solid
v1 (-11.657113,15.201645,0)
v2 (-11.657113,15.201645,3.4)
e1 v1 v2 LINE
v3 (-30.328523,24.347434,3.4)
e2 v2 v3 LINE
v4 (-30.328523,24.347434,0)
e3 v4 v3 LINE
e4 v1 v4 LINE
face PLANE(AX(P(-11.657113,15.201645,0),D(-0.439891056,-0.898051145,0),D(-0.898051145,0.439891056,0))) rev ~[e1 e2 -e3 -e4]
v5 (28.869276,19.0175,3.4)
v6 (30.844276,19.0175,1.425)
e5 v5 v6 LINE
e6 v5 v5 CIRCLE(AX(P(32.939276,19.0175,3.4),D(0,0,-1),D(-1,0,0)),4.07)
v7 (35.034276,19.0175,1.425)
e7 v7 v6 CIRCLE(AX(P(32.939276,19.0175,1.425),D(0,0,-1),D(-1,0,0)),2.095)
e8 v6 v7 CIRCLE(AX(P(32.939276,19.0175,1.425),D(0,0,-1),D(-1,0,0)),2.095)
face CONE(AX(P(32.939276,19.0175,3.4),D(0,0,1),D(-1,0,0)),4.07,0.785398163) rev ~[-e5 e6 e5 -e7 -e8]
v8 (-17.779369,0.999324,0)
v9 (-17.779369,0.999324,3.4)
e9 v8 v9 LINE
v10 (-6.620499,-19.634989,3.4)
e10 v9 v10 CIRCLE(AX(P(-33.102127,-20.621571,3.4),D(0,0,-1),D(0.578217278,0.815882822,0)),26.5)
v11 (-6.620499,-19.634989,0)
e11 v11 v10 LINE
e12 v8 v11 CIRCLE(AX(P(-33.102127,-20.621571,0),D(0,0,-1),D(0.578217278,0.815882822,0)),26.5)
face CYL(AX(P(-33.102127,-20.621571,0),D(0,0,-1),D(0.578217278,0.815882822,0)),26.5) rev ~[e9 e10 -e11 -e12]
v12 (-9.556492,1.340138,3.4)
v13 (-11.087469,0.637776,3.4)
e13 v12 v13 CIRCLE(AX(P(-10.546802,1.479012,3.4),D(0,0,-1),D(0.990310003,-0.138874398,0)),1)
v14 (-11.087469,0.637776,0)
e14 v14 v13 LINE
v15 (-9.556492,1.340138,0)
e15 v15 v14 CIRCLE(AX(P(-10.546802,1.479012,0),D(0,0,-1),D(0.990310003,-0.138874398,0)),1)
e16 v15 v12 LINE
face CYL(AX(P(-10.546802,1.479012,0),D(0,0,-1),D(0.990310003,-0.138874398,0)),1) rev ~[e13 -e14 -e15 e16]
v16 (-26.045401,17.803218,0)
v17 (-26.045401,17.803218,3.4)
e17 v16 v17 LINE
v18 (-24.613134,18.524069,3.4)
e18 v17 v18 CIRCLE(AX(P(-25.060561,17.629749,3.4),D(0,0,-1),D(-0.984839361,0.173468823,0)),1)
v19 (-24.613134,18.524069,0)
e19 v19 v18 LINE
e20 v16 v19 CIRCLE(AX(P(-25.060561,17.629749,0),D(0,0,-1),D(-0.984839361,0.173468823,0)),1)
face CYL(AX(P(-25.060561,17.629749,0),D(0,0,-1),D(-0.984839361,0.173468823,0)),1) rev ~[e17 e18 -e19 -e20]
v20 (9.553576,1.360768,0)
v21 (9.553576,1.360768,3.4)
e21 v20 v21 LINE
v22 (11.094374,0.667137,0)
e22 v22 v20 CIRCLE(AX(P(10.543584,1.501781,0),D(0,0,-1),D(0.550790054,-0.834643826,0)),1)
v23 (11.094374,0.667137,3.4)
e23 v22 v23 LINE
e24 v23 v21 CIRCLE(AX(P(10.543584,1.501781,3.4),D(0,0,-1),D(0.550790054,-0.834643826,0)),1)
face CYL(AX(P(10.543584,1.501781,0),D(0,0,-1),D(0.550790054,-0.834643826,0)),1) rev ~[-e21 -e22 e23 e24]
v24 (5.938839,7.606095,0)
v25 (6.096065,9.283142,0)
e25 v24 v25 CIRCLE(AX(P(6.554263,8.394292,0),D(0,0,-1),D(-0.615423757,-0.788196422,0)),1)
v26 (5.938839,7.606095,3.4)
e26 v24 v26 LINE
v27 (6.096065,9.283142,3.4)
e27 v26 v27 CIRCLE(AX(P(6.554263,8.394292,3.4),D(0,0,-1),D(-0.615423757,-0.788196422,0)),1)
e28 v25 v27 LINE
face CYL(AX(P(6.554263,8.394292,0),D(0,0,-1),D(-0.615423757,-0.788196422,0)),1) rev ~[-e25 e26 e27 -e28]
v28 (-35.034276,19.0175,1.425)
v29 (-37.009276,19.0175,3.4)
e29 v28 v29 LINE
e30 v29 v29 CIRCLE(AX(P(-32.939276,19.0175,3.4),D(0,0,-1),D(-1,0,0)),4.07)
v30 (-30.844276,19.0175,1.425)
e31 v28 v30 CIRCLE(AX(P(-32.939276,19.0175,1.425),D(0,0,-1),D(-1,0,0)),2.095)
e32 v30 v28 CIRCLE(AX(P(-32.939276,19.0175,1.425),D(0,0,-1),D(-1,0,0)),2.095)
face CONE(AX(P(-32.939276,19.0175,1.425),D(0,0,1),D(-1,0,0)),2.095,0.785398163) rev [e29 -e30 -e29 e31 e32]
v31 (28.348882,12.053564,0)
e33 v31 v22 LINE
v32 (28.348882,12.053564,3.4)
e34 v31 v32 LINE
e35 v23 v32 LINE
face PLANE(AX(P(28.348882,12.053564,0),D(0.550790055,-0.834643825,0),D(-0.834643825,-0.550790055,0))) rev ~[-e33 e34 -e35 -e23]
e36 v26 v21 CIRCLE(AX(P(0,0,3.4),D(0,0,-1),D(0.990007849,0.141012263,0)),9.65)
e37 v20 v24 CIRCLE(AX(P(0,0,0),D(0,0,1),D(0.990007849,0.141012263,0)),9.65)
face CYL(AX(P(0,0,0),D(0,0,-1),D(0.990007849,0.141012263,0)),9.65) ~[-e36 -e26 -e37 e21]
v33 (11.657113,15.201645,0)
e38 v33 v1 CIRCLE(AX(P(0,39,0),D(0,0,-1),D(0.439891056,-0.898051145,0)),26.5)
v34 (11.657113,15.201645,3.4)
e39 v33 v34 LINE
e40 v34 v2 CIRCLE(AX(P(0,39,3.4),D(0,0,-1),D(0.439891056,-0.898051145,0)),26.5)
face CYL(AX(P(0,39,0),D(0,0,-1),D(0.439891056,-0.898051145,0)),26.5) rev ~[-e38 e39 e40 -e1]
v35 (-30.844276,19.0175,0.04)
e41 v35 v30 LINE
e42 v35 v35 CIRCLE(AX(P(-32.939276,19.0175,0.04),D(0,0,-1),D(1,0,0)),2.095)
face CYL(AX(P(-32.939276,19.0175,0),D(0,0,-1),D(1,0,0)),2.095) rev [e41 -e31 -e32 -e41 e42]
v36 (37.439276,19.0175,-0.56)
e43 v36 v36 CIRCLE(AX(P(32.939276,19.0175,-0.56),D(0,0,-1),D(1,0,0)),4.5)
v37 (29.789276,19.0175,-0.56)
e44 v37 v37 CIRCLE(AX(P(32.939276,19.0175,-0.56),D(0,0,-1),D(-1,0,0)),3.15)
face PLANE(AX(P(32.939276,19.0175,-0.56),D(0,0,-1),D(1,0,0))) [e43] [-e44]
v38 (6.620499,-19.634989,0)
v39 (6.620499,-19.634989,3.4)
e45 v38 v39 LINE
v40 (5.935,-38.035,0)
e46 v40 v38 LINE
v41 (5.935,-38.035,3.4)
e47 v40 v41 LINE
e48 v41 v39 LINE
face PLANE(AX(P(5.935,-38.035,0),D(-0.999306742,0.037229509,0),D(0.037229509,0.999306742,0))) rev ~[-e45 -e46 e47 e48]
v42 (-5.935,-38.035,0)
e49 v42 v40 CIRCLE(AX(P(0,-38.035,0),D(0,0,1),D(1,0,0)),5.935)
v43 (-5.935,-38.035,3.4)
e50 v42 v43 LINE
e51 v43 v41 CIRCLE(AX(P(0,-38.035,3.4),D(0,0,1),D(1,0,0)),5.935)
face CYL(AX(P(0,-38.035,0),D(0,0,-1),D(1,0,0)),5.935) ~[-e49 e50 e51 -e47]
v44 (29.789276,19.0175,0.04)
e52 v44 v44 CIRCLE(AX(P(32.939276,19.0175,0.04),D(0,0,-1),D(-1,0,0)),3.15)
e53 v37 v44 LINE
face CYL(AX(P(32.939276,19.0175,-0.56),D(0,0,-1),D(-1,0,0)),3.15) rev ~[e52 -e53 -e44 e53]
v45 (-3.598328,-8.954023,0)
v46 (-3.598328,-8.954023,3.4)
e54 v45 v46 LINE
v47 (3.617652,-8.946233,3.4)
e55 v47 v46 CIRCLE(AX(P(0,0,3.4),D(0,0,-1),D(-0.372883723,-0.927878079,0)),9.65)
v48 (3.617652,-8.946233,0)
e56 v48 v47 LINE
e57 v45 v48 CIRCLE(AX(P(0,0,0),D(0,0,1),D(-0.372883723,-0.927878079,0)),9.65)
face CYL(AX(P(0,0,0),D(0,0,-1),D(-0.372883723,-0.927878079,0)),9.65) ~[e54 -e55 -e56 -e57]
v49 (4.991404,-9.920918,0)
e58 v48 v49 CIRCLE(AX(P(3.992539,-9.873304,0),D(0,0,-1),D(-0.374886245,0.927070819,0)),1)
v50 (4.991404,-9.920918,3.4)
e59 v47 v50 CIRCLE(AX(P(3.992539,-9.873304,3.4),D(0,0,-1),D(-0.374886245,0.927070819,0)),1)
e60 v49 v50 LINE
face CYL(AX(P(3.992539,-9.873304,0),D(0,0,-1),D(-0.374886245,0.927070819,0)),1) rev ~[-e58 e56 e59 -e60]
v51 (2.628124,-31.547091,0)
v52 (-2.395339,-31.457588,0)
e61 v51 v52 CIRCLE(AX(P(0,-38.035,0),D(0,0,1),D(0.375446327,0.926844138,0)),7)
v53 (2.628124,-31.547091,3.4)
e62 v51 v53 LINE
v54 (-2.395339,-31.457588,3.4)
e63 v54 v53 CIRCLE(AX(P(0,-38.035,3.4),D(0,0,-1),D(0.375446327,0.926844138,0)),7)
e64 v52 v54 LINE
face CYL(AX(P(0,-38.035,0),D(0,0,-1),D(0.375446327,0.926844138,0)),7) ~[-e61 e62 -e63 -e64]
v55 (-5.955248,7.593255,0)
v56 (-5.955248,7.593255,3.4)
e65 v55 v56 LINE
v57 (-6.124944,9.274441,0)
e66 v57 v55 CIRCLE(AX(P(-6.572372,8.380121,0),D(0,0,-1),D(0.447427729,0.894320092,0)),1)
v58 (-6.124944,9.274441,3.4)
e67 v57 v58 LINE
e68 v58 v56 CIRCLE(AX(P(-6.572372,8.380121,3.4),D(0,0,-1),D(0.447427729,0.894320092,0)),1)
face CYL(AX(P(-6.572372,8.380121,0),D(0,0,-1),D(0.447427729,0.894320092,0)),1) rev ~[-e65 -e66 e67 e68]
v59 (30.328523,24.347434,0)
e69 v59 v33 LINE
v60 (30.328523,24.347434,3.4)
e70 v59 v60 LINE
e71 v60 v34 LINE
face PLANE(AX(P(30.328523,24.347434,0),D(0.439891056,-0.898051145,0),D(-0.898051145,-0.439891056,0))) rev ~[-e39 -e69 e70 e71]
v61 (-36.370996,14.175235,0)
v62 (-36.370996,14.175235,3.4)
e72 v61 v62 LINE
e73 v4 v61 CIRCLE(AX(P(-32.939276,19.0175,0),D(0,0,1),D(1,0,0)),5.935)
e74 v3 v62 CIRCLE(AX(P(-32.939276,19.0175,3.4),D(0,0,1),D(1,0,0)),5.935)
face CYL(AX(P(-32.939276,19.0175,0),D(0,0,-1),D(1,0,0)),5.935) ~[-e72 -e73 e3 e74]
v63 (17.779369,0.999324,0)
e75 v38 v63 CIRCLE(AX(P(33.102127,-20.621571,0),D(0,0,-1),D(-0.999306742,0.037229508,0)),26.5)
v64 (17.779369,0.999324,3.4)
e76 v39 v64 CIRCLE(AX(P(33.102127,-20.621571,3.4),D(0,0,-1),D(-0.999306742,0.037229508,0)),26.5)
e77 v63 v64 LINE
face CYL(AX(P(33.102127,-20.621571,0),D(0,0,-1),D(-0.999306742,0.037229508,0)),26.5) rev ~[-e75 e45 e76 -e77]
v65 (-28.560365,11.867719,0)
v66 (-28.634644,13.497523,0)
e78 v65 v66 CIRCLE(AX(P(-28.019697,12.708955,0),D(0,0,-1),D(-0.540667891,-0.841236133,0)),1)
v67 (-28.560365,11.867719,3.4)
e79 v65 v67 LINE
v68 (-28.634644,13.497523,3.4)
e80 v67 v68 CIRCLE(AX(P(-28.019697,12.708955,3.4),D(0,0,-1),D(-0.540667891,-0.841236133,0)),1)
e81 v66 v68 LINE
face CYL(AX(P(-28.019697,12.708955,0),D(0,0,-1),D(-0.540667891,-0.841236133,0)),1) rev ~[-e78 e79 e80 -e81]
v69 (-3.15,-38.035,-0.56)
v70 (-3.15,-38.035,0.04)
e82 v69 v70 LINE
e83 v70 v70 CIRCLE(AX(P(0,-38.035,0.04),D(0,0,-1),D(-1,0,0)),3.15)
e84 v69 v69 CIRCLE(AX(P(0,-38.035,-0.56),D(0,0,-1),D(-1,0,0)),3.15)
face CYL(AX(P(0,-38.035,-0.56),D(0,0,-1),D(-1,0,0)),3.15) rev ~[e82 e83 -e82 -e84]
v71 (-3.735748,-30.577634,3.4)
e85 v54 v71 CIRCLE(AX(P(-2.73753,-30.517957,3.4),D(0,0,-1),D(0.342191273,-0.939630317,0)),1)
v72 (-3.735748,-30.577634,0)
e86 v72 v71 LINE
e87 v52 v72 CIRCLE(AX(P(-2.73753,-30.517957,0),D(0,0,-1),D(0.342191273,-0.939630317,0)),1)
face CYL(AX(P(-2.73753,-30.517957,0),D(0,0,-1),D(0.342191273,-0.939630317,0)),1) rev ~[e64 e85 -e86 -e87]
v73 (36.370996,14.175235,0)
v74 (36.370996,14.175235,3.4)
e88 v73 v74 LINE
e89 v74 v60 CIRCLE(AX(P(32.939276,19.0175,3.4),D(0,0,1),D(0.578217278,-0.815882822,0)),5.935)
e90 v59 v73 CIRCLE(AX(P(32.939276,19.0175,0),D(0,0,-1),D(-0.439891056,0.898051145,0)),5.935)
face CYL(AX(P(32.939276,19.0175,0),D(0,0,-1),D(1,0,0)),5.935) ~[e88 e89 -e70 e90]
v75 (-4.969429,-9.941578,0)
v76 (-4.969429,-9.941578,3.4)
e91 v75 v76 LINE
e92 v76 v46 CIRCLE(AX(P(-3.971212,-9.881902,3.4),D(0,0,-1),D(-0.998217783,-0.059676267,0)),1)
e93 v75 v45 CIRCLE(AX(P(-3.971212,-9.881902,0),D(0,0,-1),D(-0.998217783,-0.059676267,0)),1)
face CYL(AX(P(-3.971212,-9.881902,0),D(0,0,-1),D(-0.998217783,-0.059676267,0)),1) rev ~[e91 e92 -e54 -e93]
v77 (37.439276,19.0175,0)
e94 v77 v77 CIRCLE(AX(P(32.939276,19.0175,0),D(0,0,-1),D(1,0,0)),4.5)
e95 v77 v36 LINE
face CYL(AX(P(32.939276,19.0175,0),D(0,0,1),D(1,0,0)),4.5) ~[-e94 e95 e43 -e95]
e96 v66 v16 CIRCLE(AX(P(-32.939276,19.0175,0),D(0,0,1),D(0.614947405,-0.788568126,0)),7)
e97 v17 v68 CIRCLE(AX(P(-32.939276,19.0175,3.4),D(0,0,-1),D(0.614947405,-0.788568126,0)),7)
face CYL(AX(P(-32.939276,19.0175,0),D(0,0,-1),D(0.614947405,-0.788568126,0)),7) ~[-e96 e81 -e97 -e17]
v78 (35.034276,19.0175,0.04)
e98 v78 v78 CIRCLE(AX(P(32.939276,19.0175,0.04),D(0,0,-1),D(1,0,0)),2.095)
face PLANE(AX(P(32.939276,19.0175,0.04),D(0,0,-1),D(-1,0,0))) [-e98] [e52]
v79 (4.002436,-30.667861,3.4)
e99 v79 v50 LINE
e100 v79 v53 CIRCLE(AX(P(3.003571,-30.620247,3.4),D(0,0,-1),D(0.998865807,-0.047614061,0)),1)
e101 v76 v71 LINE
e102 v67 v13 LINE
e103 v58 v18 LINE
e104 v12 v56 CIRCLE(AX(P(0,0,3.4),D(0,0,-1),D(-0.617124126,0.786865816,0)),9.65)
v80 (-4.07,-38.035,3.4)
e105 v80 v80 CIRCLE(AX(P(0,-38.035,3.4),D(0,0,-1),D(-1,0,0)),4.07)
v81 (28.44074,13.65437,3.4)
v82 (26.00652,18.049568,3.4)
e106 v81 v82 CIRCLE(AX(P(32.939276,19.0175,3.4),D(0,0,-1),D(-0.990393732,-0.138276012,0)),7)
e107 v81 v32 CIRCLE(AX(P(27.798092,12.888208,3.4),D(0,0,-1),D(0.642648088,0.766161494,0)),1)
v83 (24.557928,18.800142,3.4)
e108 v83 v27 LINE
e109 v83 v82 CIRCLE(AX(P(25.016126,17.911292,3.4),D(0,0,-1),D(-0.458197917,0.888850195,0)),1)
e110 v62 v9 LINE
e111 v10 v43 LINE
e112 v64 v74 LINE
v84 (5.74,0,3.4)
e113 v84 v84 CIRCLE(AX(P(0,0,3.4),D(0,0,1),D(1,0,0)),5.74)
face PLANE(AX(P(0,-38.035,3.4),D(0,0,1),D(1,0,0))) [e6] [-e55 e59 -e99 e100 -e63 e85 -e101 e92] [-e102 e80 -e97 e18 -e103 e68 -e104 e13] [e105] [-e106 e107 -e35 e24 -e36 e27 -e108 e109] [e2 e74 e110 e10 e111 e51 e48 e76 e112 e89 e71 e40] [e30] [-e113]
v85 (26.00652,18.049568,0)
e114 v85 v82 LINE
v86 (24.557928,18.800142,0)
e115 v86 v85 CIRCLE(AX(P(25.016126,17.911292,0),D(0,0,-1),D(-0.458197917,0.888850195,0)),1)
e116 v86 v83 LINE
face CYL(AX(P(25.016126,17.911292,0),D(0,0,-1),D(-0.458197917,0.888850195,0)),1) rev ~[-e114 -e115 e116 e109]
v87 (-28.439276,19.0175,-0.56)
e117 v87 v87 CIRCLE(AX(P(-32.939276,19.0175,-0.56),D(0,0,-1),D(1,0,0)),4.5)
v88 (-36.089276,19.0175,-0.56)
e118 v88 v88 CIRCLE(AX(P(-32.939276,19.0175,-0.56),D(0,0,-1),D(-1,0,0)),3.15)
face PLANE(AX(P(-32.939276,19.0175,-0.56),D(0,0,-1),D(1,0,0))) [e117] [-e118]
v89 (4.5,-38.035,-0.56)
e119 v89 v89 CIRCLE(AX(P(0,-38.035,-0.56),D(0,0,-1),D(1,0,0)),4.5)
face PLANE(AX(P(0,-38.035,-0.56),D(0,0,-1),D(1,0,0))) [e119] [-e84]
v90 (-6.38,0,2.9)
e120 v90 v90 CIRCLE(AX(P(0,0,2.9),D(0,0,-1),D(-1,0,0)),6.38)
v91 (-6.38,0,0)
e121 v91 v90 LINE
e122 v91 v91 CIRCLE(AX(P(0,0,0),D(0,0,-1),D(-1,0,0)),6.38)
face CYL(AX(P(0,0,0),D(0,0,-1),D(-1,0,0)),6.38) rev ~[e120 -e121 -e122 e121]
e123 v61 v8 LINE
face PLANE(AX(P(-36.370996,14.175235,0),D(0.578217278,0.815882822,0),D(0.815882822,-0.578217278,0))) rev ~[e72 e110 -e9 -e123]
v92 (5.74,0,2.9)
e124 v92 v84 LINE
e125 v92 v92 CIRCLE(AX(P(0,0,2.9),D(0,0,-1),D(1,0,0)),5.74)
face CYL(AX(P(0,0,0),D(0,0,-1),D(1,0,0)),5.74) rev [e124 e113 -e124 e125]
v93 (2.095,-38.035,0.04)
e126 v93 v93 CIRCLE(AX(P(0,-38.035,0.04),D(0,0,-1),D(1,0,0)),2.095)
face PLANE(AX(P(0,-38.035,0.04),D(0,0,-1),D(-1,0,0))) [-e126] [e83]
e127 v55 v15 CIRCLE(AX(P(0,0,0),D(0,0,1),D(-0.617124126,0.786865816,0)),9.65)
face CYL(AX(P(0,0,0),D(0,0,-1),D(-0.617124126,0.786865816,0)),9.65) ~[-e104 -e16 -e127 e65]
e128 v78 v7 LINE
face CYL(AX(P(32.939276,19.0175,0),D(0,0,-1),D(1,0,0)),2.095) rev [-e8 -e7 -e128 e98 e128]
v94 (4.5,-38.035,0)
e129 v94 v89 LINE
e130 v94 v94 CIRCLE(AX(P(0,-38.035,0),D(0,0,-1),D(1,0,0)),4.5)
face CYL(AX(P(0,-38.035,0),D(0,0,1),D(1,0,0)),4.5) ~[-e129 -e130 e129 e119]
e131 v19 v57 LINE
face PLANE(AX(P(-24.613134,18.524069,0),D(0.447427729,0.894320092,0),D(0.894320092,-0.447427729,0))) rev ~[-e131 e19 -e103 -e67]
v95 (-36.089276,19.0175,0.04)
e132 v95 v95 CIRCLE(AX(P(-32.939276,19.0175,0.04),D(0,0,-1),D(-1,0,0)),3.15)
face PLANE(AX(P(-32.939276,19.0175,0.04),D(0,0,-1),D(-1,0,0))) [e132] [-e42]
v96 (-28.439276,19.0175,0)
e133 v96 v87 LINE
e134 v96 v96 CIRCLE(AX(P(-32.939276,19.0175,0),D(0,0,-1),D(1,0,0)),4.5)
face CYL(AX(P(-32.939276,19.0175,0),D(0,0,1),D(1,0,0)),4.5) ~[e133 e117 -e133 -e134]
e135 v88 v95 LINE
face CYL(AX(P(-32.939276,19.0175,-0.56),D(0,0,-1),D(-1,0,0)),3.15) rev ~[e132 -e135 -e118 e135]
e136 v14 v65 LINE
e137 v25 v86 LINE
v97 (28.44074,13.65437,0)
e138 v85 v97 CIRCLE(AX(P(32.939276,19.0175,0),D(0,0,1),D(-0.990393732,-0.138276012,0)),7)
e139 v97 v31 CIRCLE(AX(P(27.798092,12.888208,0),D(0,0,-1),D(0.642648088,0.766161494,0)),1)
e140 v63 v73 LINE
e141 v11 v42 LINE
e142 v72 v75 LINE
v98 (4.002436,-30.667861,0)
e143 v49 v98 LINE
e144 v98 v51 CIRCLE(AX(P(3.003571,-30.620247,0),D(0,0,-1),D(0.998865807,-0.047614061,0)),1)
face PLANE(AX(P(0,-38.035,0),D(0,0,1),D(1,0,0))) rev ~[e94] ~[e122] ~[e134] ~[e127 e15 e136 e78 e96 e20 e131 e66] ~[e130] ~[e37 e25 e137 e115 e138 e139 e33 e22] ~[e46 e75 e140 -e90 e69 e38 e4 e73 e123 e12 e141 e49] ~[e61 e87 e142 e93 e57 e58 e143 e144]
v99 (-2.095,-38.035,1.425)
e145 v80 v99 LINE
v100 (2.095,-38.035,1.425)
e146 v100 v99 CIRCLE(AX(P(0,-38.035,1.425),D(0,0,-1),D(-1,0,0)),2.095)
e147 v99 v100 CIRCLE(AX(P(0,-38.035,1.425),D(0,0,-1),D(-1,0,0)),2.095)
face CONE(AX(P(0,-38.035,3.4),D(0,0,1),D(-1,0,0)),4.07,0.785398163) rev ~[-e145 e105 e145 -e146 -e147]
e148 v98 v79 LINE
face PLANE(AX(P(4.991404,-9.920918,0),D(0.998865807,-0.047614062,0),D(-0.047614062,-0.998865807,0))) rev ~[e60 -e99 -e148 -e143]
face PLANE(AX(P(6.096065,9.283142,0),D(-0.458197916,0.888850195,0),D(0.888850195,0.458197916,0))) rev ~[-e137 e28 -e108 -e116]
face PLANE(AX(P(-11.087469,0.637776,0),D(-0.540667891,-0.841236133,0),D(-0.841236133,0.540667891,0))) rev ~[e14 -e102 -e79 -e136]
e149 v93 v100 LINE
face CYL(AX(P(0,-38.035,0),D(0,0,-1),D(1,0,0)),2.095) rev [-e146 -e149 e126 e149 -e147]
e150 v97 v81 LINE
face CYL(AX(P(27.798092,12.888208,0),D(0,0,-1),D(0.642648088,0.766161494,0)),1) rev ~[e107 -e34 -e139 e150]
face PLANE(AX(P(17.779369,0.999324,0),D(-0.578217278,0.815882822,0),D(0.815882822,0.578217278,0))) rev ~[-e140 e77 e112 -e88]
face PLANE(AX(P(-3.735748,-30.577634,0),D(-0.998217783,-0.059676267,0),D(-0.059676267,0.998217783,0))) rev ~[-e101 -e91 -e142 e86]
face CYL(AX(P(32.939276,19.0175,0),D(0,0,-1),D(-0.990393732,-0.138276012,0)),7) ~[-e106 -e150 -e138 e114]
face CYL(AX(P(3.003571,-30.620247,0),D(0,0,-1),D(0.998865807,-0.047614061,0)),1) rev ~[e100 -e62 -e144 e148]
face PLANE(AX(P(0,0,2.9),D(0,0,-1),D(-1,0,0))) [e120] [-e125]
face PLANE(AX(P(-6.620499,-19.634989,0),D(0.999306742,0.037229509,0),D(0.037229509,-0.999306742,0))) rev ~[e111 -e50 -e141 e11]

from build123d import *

# Parameters (mm, degrees)
SKETCH_1_R          = 5.935
SKETCH_1_R_2        = 2.095
SKETCH_1_R_3        = 5.74
EXTRUDE_1_DEPTH     = 3.4
SKETCH_3_R          = 6.38
CUT_EXTRUDE_1_DEPTH = 2.9
SKETCH_4_R          = 4.5
EXTRUDE_3_DEPTH     = 0.56
SKETCH_6_R          = 3.15
CUT_EXTRUDE_2_DEPTH = 0.6
SKETCH_7_R          = 3.15
CUT_EXTRUDE_3_DEPTH = 0.6
SKETCH_8_R          = 3.15
CUT_EXTRUDE_4_DEPTH = 0.6
CUT_EXTRUDE_5_DEPTH = 10


with BuildPart() as part:
    # 草图1 → 凸台-拉伸1 (new body)
    # profile 1 of 4: a face of its own
    with BuildSketch(Plane.XY):
        with Locations((-32.939276233, 19.0175)):
            Circle(SKETCH_1_R)
        with Locations((-32.939276233, 19.0175)):
            Circle(SKETCH_1_R_2, mode=Mode.SUBTRACT)
    # profile 2 of 4: a face of its own
    with BuildSketch(Plane.XY):
        with Locations((32.939276233, 19.0175)):
            Circle(SKETCH_1_R)
        with Locations((32.939276233, 19.0175)):
            Circle(SKETCH_1_R_2, mode=Mode.SUBTRACT)
    # profile 3 of 4: a face of its own
    with BuildSketch(Plane.XY):
        with BuildLine():
            Line((-11.657112974, 15.201644655), (-30.328522818, 24.347433546))
            ThreePointArc((-30.328522818, 24.347433546), (-27.903452243, 22.158312274), (-27.004276233, 19.0175))
            ThreePointArc((-27.004276233, 19.0175), (-30.213751559, 13.745333439), (-36.370995778, 14.175235451))
            Line((-36.370995778, 14.175235451), (-17.779369394, 0.999324265))
            ThreePointArc((-17.779369394, 0.999324265), (-9.792356792, -8.015833705), (-6.620498611, -19.634988545))
            Line((-6.620498611, -19.634988545), (-5.935, -38.035))
            ThreePointArc((-5.935, -38.035), (0, -32.1), (5.935, -38.035))
            Line((5.935, -38.035), (6.620498611, -19.634988545))
            ThreePointArc((6.620498611, -19.634988545), (9.792356792, -8.015833705), (17.779369394, 0.999324265))
            Line((17.779369394, 0.999324265), (36.370995778, 14.175235451))
            ThreePointArc((36.370995778, 14.175235451), (27.836639672, 15.986439933), (30.328522818, 24.347433546))
            Line((30.328522818, 24.347433546), (11.657112974, 15.201644655))
            ThreePointArc((11.657112974, 15.201644655), (0, 12.5), (-11.657112974, 15.201644655))
        make_face()
        Circle(SKETCH_1_R_3, mode=Mode.SUBTRACT)
    # profile 4 of 4: a face of its own
    with BuildSketch(Plane.XY):
        with Locations((0, -38.035)):
            Circle(SKETCH_1_R)
        with Locations((0, -38.035)):
            Circle(SKETCH_1_R_2, mode=Mode.SUBTRACT)
    extrude(amount=EXTRUDE_1_DEPTH)

    # 草图3 → 切除-拉伸1 (cut)
    with BuildSketch(Plane(origin=(0, 0, 0), x_dir=(-1, 0, 0), z_dir=(0, 0, -1))):
        Circle(SKETCH_3_R)
    extrude(amount=-CUT_EXTRUDE_1_DEPTH, mode=Mode.SUBTRACT)

    # 草图4 → 凸台-拉伸3 (add)
    with BuildSketch(Plane(origin=(0, 0, 0), x_dir=(-1, 0, 0), z_dir=(0, 0, -1))):
        with Locations(Location((0, -38.035, 0), (0, 0, 180))):
            Circle(SKETCH_4_R)
        with Locations(Location((32.939276233, 19.0175, 0), (0, 0, 180))):
            Circle(SKETCH_4_R)
        with Locations(Location((-32.939276233, 19.0175, 0), (0, 0, 180))):
            Circle(SKETCH_4_R)
    extrude(amount=EXTRUDE_3_DEPTH)

    # 草图6 → 切除-拉伸2 (cut)
    with BuildSketch(Plane(origin=(0, 0, -0.56), x_dir=(-1, 0, 0), z_dir=(0, 0, -1))):
        with Locations((0, -38.035)):
            Circle(SKETCH_6_R)
    extrude(amount=-CUT_EXTRUDE_2_DEPTH, mode=Mode.SUBTRACT)

    # 草图7 → 切除-拉伸3 (cut)
    with BuildSketch(Plane(origin=(0, 0, -0.56), x_dir=(-1, 0, 0), z_dir=(0, 0, -1))):
        with Locations((-32.939276233, 19.0175)):
            Circle(SKETCH_7_R)
    extrude(amount=-CUT_EXTRUDE_3_DEPTH, mode=Mode.SUBTRACT)

    # 草图8 → 切除-拉伸4 (cut)
    with BuildSketch(Plane(origin=(0, 0, -0.56), x_dir=(-1, 0, 0), z_dir=(0, 0, -1))):
        with Locations((32.939276233, 19.0175)):
            Circle(SKETCH_8_R)
    extrude(amount=-CUT_EXTRUDE_4_DEPTH, mode=Mode.SUBTRACT)

    # 草图9 → 切除-旋转1 (revolve, cut)
    with BuildSketch(Plane(origin=(0, 19.0175, 0), x_dir=(-1, 0, 0), z_dir=(0, -1, 0))):
        Polygon((35.034276233, -3.4), (35.034276233, -1.425), (37.009276233, -3.4), align=None)
    revolve(axis=Axis((-32.939276233, 19.0175, 3.4), (0, 0, -1)), mode=Mode.SUBTRACT)

    # 草图10 → 切除-旋转2 (revolve, cut)
    with BuildSketch(Plane(origin=(16.469638116, -9.50875, 0), x_dir=(0, 0, 1), z_dir=(-0.8660254037844397, 0.49999999999999806, 0)), mode=Mode.PRIVATE) as cut_revolve_2_sk:
        Polygon((3.4, 35.034276233), (3.4, 37.009276233), (1.425, 35.034276233), align=None)
    revolve(cut_revolve_2_sk.sketch.rotate(Axis((32.939276233, 19.0175, 3.4), (0, 0, -1)), 240), axis=Axis((32.939276233, 19.0175, 3.4), (0, 0, -1)), mode=Mode.SUBTRACT)

    # 草图11 → 切除-旋转3 (revolve, cut)
    with BuildSketch(Plane(origin=(16.469638116, -9.50875, 0), x_dir=(0, 0, 1), z_dir=(-0.8660254037844397, 0.49999999999999806, 0)), mode=Mode.PRIVATE) as cut_revolve_3_sk:
        Polygon((3.4, -30.844276233), (3.4, -28.869276233), (1.425, -30.844276233), align=None)
    revolve(cut_revolve_3_sk.sketch.rotate(Axis((0, -38.035, 3.4), (0, 0, -1)), 240), axis=Axis((0, -38.035, 3.4), (0, 0, -1)), mode=Mode.SUBTRACT)

    # 草图12 → 切除-拉伸5 (cut)
    with BuildSketch(Plane(origin=(0, 0, 0), x_dir=(-1, 0, 0), z_dir=(0, 0, -1))):
        with BuildLine():
            Line((-4.991404318, -9.920918283), (-4.002436423, -30.667860961))
            ThreePointArc((-4.002436423, -30.667860961), (-3.542480946, -31.462610037), (-2.628124289, -31.547091036))
            ThreePointArc((-2.628124289, -31.547091036), (-0.124699507, -31.0361108), (2.395338905, -31.457587778))
            ThreePointArc((2.395338905, -31.457587778), (3.286322012, -31.353916504), (3.73574796, -30.577633728))
            Line((3.73574796, -30.577633728), (4.96942943, -9.941577808))
            ThreePointArc((4.96942943, -9.941577808), (4.555657168, -9.070468591), (3.598327924, -8.954023462))
            ThreePointArc((3.598327924, -8.954023462), (-0.010417716, -9.649994377), (-3.617652266, -8.946233402))
            ThreePointArc((-3.617652266, -8.946233402), (-4.57119236, -9.057730973), (-4.991404318, -9.920918283))
        make_face()
        with BuildLine():
            Line((-6.096065103, 9.283142082), (-24.55792846, 18.8001421))
            ThreePointArc((-24.55792846, 18.8001421), (-25.476179088, 18.79918351), (-26.006520108, 18.049567917))
            ThreePointArc((-26.006520108, 18.049567917), (-26.815710634, 15.626048341), (-28.44073961, 13.654369547))
            ThreePointArc((-28.44073961, 13.654369547), (-28.796449207, 12.830919904), (-28.348881576, 12.053564228))
            Line((-28.348881576, 12.053564228), (-11.09437365, 0.667136775))
            ThreePointArc((-11.09437365, 0.667136775), (-10.133084808, 0.589919457), (-9.553575746, 1.360768338))
            ThreePointArc((-9.553575746, 1.360768338), (-8.351931419, 4.834019195), (-5.938839262, 7.606095465))
            ThreePointArc((-5.938839262, 7.606095465), (-5.558628943, 8.487634196), (-6.096065103, 9.283142082))
        make_face()
        with BuildLine():
            Line((11.087469421, 0.637776201), (28.560364883, 11.867718861))
            ThreePointArc((28.560364883, 11.867718861), (29.018660034, 12.663426527), (28.634644397, 13.49752312))
            ThreePointArc((28.634644397, 13.49752312), (26.940410141, 15.410062459), (26.045400706, 17.803218231))
            ThreePointArc((26.045400706, 17.803218231), (25.510127195, 18.5229966), (24.613133616, 18.5240695))
            Line((24.613133616, 18.5240695), (6.12494422, 9.274441032))
            ThreePointArc((6.12494422, 9.274441032), (5.57742764, 8.480549134), (5.955247822, 7.593255124))
            ThreePointArc((5.955247822, 7.593255124), (8.362349135, 4.815975182), (9.556491527, 1.340137937))
            ThreePointArc((9.556491527, 1.340137937), (10.129821304, 0.570096777), (11.087469421, 0.637776201))
        make_face()
    extrude(amount=-CUT_EXTRUDE_5_DEPTH, mode=Mode.SUBTRACT)


solid = part.part
